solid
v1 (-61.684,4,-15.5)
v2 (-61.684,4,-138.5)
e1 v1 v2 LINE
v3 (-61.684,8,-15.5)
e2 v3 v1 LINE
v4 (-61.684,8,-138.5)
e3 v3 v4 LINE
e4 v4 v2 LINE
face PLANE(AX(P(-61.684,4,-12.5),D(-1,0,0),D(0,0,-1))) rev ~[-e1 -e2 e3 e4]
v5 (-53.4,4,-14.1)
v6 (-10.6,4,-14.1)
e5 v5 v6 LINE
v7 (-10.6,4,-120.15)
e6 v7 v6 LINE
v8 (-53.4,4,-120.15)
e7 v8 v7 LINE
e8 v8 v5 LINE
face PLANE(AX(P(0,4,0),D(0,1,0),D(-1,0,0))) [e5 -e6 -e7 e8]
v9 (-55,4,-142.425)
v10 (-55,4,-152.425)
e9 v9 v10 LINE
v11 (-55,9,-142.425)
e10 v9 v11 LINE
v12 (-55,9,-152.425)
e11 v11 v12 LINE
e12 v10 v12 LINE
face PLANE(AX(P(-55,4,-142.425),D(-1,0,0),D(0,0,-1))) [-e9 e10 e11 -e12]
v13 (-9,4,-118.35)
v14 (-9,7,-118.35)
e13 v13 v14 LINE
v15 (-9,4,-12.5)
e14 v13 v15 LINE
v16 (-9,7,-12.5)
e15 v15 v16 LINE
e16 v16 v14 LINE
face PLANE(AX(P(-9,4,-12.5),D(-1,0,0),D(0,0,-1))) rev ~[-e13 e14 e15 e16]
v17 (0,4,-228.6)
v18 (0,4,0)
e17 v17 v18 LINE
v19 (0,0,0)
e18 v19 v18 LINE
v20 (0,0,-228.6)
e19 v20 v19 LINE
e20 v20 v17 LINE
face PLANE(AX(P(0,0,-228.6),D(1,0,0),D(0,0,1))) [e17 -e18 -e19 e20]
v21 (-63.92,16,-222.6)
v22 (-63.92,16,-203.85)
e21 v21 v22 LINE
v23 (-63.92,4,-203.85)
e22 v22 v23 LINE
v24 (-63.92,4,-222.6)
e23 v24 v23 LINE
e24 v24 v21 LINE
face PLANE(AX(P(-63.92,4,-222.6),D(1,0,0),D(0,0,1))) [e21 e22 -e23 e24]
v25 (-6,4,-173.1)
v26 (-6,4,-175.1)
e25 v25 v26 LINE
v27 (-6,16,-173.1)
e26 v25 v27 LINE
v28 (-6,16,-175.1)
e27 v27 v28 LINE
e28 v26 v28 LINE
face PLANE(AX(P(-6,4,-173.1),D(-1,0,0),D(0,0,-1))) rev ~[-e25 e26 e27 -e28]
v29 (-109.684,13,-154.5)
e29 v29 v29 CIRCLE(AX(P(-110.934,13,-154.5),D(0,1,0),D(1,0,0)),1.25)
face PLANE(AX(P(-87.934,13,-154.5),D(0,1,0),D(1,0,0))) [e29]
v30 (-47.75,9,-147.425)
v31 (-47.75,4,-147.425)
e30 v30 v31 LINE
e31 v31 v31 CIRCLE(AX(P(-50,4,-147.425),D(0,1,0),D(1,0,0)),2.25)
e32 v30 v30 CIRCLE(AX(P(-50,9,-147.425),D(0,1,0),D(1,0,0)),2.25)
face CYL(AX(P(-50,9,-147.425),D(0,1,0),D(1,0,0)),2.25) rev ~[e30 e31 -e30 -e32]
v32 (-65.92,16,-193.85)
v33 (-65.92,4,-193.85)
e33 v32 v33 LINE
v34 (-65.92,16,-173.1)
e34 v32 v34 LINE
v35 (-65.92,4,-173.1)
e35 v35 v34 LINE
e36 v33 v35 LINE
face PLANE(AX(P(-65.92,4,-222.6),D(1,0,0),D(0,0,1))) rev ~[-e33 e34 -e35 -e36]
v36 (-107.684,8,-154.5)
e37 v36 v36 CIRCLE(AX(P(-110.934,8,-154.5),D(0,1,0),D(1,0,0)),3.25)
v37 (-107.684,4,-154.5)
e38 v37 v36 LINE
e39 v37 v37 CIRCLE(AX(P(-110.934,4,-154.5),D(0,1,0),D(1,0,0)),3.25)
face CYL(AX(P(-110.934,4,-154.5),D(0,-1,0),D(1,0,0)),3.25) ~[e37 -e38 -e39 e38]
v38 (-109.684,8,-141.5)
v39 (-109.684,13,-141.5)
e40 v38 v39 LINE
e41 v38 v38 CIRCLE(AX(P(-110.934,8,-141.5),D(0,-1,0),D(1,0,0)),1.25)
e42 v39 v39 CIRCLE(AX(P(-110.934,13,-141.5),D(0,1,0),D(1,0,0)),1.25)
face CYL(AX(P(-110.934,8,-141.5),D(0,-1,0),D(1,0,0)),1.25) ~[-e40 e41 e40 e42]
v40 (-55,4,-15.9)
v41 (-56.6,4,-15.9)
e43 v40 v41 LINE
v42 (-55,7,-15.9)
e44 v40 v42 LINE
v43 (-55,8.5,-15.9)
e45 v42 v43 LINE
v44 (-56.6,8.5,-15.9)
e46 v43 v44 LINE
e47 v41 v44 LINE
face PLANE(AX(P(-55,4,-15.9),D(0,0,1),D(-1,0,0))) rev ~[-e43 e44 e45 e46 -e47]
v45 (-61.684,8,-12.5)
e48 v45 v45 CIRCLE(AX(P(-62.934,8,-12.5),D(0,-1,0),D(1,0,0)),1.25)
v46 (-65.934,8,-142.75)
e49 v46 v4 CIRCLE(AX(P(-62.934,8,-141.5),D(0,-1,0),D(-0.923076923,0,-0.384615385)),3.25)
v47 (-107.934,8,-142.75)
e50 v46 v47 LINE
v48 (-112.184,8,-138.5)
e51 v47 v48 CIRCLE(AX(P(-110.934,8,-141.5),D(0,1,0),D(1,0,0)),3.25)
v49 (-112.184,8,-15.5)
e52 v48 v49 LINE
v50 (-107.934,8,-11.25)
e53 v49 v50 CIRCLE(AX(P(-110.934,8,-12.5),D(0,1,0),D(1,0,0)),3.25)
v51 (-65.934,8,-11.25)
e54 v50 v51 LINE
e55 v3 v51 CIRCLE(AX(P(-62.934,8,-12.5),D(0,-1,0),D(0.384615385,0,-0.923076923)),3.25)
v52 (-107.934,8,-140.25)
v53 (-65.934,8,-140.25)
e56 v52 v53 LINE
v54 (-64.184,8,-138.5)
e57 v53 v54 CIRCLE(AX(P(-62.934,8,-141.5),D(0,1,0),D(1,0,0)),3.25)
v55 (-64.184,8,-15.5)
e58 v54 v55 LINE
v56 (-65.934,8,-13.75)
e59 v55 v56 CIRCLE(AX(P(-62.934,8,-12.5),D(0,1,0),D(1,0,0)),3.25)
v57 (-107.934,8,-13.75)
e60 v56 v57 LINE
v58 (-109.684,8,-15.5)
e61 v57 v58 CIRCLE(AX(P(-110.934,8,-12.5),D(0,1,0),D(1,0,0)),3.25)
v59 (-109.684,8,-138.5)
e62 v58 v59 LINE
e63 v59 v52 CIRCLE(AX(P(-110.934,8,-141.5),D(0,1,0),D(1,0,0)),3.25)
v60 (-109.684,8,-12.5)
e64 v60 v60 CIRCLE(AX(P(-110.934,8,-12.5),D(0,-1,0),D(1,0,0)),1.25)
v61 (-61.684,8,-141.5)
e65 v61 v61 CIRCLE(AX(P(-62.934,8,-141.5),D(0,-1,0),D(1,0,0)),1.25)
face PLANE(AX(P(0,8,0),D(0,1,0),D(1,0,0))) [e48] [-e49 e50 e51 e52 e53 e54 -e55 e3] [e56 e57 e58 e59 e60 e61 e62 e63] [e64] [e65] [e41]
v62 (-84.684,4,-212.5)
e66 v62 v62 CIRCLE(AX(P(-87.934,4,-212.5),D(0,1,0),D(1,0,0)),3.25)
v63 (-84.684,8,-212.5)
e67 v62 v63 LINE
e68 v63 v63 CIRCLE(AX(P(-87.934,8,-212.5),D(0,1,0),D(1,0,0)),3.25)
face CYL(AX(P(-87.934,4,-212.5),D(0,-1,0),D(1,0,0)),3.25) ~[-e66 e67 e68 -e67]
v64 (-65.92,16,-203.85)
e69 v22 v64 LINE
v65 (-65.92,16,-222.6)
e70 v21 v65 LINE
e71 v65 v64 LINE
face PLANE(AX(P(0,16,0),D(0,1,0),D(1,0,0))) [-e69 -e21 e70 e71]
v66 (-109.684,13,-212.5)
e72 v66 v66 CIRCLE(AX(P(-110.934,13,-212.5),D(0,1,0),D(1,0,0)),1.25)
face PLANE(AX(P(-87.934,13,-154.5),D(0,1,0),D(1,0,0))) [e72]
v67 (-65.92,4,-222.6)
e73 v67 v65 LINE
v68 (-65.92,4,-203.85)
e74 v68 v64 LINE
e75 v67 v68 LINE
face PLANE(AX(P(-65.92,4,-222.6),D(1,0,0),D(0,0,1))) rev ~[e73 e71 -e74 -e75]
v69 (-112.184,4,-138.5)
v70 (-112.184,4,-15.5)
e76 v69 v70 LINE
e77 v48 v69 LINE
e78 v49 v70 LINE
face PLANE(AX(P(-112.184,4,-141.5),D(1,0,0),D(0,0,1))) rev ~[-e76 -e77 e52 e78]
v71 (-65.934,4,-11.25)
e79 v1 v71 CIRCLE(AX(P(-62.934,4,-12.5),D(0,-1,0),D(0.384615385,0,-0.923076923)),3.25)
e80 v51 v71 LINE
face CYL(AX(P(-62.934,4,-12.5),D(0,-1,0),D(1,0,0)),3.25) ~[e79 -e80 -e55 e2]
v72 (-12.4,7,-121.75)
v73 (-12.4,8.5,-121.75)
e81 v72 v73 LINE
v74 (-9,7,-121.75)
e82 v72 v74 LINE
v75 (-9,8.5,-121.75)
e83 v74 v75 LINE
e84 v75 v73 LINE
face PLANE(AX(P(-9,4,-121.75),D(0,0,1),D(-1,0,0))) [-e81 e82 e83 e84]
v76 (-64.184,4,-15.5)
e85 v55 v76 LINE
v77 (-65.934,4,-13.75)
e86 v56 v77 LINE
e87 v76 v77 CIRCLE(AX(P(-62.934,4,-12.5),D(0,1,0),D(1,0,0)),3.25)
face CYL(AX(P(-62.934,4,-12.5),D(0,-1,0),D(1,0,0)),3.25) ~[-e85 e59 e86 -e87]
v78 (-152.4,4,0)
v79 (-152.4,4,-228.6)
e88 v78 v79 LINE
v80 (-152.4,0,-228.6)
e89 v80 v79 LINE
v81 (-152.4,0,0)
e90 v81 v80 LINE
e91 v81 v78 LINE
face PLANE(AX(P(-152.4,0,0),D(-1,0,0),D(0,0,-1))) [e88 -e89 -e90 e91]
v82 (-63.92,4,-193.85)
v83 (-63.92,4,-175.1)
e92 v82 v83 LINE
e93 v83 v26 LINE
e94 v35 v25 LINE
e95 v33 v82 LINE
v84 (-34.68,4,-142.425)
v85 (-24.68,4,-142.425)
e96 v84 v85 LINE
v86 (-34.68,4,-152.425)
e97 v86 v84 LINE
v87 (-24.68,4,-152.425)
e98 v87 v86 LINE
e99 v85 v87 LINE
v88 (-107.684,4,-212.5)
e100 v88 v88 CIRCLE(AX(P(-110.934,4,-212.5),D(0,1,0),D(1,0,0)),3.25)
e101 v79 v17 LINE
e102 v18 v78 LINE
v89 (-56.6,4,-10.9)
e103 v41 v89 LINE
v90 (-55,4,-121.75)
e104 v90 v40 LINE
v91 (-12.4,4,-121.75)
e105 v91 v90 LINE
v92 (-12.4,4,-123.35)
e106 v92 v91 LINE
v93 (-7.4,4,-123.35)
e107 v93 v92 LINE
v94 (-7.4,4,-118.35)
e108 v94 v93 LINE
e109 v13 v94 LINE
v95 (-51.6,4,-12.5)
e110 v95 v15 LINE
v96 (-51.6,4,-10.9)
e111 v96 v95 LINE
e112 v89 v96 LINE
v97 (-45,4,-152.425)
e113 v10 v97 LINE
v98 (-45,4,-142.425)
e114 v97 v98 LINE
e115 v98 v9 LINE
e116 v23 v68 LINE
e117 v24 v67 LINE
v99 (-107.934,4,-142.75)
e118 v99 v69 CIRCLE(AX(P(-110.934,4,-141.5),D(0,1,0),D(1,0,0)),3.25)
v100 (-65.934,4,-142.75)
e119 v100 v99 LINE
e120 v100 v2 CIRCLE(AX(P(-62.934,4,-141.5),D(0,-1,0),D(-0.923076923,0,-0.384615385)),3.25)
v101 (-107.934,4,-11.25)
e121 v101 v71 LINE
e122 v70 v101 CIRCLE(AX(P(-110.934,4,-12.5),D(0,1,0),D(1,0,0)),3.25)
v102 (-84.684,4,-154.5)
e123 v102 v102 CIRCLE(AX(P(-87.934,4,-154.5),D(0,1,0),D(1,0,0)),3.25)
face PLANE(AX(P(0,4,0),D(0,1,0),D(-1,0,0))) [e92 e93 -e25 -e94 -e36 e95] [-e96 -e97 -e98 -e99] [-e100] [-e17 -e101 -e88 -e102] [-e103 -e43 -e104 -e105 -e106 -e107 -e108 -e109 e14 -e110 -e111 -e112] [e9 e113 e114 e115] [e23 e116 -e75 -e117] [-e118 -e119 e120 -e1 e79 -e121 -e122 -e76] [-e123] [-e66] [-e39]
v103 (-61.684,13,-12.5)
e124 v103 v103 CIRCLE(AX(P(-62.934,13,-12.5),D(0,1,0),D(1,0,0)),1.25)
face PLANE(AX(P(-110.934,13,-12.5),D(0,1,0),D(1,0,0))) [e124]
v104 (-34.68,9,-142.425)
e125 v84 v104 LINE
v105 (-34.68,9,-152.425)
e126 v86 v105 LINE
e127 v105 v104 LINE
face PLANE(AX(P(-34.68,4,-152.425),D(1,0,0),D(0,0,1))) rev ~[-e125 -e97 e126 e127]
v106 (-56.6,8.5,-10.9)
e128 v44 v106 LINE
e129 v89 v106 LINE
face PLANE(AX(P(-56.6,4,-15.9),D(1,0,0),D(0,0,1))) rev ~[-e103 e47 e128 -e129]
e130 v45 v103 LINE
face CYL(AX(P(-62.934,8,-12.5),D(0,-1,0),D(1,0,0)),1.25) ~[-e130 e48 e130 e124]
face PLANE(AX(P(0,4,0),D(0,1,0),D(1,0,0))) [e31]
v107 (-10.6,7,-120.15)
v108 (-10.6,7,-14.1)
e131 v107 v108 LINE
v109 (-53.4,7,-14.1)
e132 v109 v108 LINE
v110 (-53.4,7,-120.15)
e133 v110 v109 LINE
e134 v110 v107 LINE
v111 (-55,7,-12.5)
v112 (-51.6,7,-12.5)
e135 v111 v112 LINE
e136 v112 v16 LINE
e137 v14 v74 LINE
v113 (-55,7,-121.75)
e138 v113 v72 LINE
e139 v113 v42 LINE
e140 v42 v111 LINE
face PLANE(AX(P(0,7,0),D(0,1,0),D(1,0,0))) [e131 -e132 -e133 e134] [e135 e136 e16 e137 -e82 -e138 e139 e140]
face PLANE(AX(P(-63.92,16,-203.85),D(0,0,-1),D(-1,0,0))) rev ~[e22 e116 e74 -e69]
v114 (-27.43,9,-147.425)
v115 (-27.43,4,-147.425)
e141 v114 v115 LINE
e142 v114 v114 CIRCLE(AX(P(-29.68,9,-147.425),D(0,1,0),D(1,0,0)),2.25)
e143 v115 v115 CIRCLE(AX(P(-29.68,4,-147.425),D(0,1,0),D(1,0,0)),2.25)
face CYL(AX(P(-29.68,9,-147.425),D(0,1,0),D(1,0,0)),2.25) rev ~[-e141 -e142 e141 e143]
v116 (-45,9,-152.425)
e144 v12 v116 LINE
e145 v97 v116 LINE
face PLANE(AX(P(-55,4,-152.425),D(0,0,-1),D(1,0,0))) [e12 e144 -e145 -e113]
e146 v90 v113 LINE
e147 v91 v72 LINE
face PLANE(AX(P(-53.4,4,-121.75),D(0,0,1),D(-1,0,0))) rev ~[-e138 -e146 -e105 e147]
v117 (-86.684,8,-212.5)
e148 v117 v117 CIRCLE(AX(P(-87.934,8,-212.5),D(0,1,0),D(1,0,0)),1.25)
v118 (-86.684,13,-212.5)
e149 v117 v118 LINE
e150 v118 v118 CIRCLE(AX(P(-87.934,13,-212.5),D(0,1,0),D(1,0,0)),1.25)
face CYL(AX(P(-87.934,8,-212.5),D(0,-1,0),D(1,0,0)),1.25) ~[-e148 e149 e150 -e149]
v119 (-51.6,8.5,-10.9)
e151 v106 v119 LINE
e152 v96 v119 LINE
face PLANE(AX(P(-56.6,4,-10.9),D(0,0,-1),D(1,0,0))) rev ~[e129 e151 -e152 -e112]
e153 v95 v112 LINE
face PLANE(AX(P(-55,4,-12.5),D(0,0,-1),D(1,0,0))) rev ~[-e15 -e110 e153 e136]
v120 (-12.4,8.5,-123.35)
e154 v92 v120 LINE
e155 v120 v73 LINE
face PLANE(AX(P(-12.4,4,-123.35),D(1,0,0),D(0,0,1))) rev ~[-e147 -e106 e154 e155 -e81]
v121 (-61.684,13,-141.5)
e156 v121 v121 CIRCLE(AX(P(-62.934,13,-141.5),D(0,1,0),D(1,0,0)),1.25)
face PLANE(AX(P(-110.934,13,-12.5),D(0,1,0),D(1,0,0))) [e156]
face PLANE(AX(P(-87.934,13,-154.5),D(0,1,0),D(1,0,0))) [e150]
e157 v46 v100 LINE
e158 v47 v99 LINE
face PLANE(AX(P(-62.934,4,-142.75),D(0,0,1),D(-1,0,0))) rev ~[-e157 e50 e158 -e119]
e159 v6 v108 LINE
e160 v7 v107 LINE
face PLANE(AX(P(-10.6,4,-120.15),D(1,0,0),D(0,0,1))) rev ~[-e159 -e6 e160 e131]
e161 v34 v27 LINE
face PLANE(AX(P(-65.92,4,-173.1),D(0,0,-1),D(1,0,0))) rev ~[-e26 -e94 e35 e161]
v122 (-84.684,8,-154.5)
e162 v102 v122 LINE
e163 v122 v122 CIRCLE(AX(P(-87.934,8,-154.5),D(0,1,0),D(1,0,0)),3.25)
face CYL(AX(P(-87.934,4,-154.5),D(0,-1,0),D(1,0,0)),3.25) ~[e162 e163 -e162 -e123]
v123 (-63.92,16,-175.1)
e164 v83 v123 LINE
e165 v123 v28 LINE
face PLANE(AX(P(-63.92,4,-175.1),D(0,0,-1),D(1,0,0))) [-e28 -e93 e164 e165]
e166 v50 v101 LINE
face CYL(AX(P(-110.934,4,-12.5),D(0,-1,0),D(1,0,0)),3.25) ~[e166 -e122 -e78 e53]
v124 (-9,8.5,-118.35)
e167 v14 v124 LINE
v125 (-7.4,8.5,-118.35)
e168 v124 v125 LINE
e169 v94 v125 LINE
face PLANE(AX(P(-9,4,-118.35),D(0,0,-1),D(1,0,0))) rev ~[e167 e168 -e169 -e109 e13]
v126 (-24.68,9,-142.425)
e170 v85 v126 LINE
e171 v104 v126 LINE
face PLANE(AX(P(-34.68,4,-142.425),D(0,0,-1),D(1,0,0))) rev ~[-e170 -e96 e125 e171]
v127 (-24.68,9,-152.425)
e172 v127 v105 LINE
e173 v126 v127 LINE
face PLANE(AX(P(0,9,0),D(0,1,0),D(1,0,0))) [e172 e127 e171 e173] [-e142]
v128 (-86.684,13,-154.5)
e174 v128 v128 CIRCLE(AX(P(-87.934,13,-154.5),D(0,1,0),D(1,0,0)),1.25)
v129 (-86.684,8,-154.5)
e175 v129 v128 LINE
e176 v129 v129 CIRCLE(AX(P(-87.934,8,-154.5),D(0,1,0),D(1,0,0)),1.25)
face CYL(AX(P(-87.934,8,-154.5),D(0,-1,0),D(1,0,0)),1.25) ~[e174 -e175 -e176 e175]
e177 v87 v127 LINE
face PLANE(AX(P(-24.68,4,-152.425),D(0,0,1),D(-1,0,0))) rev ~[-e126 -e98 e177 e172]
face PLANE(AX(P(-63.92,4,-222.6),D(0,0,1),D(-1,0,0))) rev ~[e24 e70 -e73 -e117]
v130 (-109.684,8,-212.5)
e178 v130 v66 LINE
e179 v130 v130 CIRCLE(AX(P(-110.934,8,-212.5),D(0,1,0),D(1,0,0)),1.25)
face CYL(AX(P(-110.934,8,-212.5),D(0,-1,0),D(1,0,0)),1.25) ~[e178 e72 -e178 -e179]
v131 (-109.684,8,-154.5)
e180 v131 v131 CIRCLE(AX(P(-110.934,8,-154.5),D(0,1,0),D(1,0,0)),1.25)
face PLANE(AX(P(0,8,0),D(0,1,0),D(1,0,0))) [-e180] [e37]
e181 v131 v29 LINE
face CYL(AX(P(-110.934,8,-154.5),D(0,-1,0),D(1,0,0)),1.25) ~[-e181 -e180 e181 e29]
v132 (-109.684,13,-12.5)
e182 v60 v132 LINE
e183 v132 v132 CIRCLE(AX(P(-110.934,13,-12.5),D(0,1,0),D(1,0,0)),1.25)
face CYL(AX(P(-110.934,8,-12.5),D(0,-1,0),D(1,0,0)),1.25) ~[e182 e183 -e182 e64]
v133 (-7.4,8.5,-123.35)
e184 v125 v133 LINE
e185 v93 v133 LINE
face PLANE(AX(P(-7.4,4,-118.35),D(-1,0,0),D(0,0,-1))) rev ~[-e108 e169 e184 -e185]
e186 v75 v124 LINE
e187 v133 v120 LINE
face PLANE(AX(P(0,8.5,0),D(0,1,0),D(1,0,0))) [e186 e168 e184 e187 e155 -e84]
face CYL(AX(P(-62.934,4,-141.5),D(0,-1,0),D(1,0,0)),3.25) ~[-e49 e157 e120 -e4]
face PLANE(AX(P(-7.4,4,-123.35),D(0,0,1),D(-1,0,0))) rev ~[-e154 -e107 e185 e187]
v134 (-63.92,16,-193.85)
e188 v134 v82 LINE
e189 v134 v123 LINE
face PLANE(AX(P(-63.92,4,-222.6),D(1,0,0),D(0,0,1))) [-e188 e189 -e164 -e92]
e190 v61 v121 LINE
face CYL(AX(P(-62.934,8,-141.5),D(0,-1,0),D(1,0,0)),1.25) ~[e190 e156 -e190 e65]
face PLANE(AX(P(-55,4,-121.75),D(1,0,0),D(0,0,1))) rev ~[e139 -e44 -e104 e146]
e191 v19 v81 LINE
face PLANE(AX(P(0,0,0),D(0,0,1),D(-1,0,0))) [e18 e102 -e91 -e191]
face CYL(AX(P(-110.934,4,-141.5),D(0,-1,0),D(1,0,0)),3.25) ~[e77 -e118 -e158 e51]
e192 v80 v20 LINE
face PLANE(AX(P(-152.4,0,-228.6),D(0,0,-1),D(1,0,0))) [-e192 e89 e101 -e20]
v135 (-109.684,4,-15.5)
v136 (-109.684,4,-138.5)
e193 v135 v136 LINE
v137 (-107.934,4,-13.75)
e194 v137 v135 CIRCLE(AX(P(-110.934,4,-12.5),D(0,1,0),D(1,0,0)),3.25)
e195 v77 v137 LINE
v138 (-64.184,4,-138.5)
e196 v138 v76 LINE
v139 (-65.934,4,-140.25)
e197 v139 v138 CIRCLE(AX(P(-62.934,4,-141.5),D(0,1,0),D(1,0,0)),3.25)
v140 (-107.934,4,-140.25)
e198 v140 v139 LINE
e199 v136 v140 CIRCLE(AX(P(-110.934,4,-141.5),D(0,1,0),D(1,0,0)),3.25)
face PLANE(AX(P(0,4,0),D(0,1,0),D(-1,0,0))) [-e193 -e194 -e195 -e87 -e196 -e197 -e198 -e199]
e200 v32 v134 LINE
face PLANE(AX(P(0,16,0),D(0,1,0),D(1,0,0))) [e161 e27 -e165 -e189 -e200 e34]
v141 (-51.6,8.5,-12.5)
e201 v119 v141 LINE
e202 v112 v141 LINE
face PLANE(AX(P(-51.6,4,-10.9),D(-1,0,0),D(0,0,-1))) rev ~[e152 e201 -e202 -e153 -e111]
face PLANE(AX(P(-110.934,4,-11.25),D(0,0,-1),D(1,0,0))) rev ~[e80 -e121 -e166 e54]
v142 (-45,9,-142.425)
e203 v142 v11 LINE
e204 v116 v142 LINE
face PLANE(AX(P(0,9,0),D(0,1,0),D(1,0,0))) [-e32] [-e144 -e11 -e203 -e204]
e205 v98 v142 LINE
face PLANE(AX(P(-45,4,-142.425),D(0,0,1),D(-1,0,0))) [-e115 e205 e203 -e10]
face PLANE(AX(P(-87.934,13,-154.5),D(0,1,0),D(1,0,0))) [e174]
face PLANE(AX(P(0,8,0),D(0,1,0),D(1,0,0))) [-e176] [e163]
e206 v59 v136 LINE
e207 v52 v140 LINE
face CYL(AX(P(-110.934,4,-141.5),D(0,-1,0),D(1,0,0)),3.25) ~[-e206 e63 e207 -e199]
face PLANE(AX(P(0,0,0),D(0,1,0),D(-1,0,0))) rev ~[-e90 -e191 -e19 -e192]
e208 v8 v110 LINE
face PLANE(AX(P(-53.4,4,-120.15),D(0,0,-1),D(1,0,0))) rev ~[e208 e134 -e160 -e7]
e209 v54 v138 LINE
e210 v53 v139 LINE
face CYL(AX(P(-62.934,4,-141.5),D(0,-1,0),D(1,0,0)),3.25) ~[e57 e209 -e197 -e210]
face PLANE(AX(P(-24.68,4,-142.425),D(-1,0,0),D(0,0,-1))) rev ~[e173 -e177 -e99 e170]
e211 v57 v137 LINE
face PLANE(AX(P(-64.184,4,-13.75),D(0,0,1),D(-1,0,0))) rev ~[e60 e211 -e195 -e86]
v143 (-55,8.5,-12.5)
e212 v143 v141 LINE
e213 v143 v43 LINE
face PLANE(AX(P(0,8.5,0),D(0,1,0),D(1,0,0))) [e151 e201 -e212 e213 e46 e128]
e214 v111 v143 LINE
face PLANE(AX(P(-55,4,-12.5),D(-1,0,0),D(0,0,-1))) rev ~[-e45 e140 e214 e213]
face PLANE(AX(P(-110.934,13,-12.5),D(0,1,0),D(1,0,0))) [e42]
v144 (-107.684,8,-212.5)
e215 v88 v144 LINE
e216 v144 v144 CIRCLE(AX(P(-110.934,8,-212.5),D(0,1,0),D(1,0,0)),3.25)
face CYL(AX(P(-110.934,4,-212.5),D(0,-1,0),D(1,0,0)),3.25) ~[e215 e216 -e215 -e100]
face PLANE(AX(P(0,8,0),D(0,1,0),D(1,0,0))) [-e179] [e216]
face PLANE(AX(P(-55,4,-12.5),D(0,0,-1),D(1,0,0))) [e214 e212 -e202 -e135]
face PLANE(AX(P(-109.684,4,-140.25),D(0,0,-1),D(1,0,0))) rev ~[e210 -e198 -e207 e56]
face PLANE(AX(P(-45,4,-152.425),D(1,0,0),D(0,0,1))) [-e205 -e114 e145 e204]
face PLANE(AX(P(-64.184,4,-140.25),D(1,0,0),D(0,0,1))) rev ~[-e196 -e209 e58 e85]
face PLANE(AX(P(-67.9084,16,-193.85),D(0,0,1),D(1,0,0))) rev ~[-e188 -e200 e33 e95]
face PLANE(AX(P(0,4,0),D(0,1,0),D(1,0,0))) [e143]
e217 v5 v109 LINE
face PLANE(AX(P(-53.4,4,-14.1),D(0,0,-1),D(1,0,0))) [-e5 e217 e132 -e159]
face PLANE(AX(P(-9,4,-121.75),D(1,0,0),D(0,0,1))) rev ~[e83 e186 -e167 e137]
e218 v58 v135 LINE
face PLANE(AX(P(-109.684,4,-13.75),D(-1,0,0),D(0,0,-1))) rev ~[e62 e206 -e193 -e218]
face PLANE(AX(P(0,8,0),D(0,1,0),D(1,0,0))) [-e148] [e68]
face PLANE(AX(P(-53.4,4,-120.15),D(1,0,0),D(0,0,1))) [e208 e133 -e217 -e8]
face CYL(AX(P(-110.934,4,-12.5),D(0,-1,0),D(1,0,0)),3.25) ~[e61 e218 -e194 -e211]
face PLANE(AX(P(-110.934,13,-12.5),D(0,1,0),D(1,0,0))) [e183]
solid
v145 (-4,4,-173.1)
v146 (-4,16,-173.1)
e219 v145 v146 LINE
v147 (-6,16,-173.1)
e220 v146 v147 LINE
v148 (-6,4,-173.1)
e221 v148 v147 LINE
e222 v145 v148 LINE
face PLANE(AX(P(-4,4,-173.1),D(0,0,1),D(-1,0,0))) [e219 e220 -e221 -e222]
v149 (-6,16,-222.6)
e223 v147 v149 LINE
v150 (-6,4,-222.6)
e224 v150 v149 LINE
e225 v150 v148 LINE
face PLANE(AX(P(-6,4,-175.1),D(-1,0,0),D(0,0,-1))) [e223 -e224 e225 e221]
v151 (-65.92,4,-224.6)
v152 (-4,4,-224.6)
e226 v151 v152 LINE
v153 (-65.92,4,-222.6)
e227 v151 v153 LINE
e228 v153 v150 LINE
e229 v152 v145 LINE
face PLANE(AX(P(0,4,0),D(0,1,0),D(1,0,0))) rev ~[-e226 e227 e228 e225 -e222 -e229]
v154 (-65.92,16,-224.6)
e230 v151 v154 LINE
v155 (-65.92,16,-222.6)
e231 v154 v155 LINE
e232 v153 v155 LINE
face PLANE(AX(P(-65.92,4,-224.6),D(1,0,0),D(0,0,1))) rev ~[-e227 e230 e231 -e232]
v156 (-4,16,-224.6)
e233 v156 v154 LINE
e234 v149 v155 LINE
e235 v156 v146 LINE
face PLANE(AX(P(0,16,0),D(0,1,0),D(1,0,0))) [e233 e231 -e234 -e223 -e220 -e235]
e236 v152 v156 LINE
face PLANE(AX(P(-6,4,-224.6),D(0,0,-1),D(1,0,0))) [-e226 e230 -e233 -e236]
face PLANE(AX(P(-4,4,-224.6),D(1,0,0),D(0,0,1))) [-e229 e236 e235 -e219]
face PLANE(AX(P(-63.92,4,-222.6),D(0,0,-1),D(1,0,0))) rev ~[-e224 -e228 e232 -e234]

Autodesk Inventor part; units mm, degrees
ref_plane "YZ Plane" through (0, 0, 0) normal (1, 0, 0) x (0, 1, 0)
ref_plane "XZ Plane" through (0, 0, 0) normal (0, 1, 0) x (-1, 0, 0)
ref_plane "XY Plane" through (0, 0, 0) normal (0, 0, 1) x (1, 0, 0)
sketch "Sketch1" plane through (0, 0, 0) normal (0, 1, 0) x (-1, 0, 0)
  line L0 (0, 0) -> (152.4, 0)
  line L1 (152.4, 0) -> (152.4, -228.6)
  line L2 (152.4, -228.6) -> (0, -228.6)
  line L3 (0, -228.6) -> (0, 0)
  dimension "d0" = 152.4
  dimension "d1" = 228.6
extrude "Extrusion1" add sketch "Sketch1" along normal blind 4
sketch "Sketch2" plane through (0, 4, 0) normal (0, 1, 0) x (1, 0, 0)
  line L0 (0, 228.6) -> (-152.4, 228.6) construction
  line L1 (-152.4, 228.6) -> (-152.4, 0) construction
  line L2 (-152.4, 0) -> (0, 0) construction
  line L3 (0, 0) -> (0, 228.6) construction
  line L4 (-146.4, 6) -> (-146.4, 222.6) construction
  line L5 (-146.4, 222.6) -> (-6, 222.6) construction
  line L6 (-6, 222.6) -> (-6, 6) construction
  line L7 (-6, 6) -> (-146.4, 6) construction
  line L8 (-110.934, 6) -> (-110.934, 12.5) construction
  circle A0 centre (-110.934, 12.5) radius 1.25 construction
  line L9 (-110.934, 12.5) -> (-62.934, 12.5) construction
  line L10 (-62.934, 12.5) -> (-62.934, 141.5) construction
  line L11 (-62.934, 141.5) -> (-110.934, 141.5) construction
  line L12 (-110.934, 141.5) -> (-110.934, 12.5) construction
  circle A1 centre (-62.934, 12.5) radius 1.25 construction
  circle A2 centre (-110.934, 141.5) radius 1.25 construction
  circle A3 centre (-62.934, 141.5) radius 1.25 construction
  line L13 (-62.934, 12.5) -> (-6, 12.5) construction
  line L14 (-6, 12.5) -> (-9, 12.5) construction
  line L15 (-9, 12.5) -> (-55, 12.5) construction
  line L16 (-55, 12.5) -> (-55, 121.75) construction
  line L17 (-55, 121.75) -> (-9, 121.75) construction
  line L18 (-9, 121.75) -> (-9, 12.5) construction
  line L19 (-6, 222.6) -> (-63.92, 222.6) construction
  line L20 (-63.92, 222.6) -> (-63.92, 175.1) construction
  line L21 (-63.92, 175.1) -> (-6, 175.1) construction
  line L22 (-6, 175.1) -> (-6, 222.6) construction
  line L23 (-63.92, 222.6) -> (-65.92, 222.6) construction
  line L24 (-65.92, 222.6) -> (-65.92, 175.1) construction
  line L25 (-65.92, 175.1) -> (-63.92, 175.1) construction
  line L26 (-63.92, 175.1) -> (-63.92, 222.6) construction
  line L27 (-63.92, 175.1) -> (-6, 175.1) construction
  line L28 (-6, 175.1) -> (-6, 173.1) construction
  line L29 (-6, 173.1) -> (-63.92, 173.1) construction
  line L30 (-63.92, 173.1) -> (-63.92, 175.1) construction
  line L31 (-63.92, 175.1) -> (-65.92, 175.1) construction
  line L32 (-65.92, 175.1) -> (-65.92, 173.1) construction
  line L33 (-65.92, 173.1) -> (-63.92, 173.1) construction
  line L34 (-63.92, 173.1) -> (-63.92, 175.1) construction
  line L35 (-55, 121.75) -> (-55, 173.1) construction
  line L36 (-110.934, 141.5) -> (-110.934, 154.5) construction
  circle A4 centre (-110.934, 154.5) radius 1.25 construction
  line L37 (-110.934, 154.5) -> (-87.934, 154.5) construction
  line L38 (-87.934, 154.5) -> (-87.934, 212.5) construction
  line L39 (-87.934, 212.5) -> (-110.934, 212.5) construction
  line L40 (-110.934, 212.5) -> (-110.934, 154.5) construction
  circle A5 centre (-87.934, 154.5) radius 1.25 construction
  circle A6 centre (-87.934, 212.5) radius 1.25 construction
  circle A7 centre (-110.934, 212.5) radius 1.25 construction
  line L41 (-45, 142.425) -> (-55, 142.425) construction
  line L42 (-55, 142.425) -> (-55, 152.425) construction
  line L43 (-55, 152.425) -> (-45, 152.425) construction
  line L44 (-45, 152.425) -> (-45, 142.425) construction
  line L45 (-45, 142.425) -> (-55, 152.425) construction
  line L46 (-55, 142.425) -> (-45, 152.425) construction
  circle A8 centre (-50, 147.425) radius 2.25 construction
  line L47 (-50, 147.425) -> (-29.68, 147.425) construction
  line L48 (-24.68, 152.425) -> (-34.68, 152.425) construction
  line L49 (-34.68, 152.425) -> (-34.68, 142.425) construction
  line L50 (-34.68, 142.425) -> (-24.68, 142.425) construction
  line L51 (-24.68, 142.425) -> (-24.68, 152.425) construction
  line L52 (-24.68, 152.425) -> (-34.68, 142.425) construction
  line L53 (-34.68, 152.425) -> (-24.68, 142.425) construction
  dimension "d4" = 6
  dimension "d6" = 6.5
  dimension "d7" = 2.5
  dimension "d8" = 48
  dimension "d9" = 129
  dimension "d14" = 3
  dimension "d15" = 46
  dimension "d16" = 109.25
  dimension "d17" = 41.466
  dimension "d18" = 57.92
  dimension "d19" = 47.5
  dimension "d29" = 13
  dimension "d30" = 2.5
  dimension "d31" = 23
  dimension "d32" = 58
  dimension "d33" = 2
  dimension "d64" = 10
  dimension "d65" = 10
  dimension "d66" = 4.5
  dimension "d67" = 20.32
  dimension "d68" = 10
  dimension "d69" = 10
sketch "Sketch3" plane through (0, 4, 0) normal (0, 1, 0) x (1, 0, 0)
  circle A0 centre (-110.934, 12.5) radius 1.25 construction
  circle A1 centre (-110.934, 141.5) radius 1.25 construction
  circle A2 centre (-62.934, 141.5) radius 1.25 construction
  circle A3 centre (-62.934, 12.5) radius 1.25 construction
  circle A4 centre (-110.934, 12.5) radius 3.25
  circle A5 centre (-110.934, 141.5) radius 3.25
  circle A6 centre (-62.934, 141.5) radius 3.25
  circle A7 centre (-62.934, 12.5) radius 3.25
  point P0 (0, 0)
  dimension "d37" = 2
  dimension "d38" = 2
  dimension "d39" = 2
  dimension "d40" = 2
extrude "Extrusion2" add sketch "Sketch3" along normal blind 4
sketch "Sketch4" plane through (-110.934, 8, -12.5) normal (0, 1, 0) x (1, 0, 0)
  circle A0 centre (0, 0) radius 3.25 projected
  circle A1 centre (0, 129) radius 3.25 projected
  circle A2 centre (48, 129) radius 3.25 projected
  circle A3 centre (48, 0) radius 3.25 projected
  circle A4 centre (48, 0) radius 1.25
  circle A5 centre (0, 0) radius 1.25
  circle A6 centre (0, 129) radius 1.25
  circle A7 centre (48, 129) radius 1.25
  point P0 (110.934, -12.5)
  dimension "d43" = 2.5
  dimension "d44" = 2.5
  dimension "d45" = 2.5
  dimension "d46" = 2.5
extrude "Extrusion3" add sketch "Sketch4" along normal blind 5 contours A4 | A5 | A6 | A7
sketch "Sketch5" plane through (0, 4, 0) normal (0, 1, 0) x (1, 0, 0)
  circle A0 centre (-110.934, 154.5) radius 1.25 construction
  circle A1 centre (-110.934, 212.5) radius 1.25 construction
  circle A2 centre (-87.934, 212.5) radius 1.25 construction
  line L0 (-87.934, 154.5) -> (-87.934, 212.5) construction
  circle A3 centre (-87.934, 154.5) radius 1.25 construction
  circle A4 centre (-87.934, 154.5) radius 3.25
  circle A5 centre (-110.934, 154.5) radius 3.25
  circle A6 centre (-110.934, 212.5) radius 3.25
  circle A7 centre (-87.934, 212.5) radius 3.25
  point P0 (0, 0)
  dimension "d49" = 2
  dimension "d50" = 2
  dimension "d51" = 2
  dimension "d52" = 2
extrude "Extrusion4" add sketch "Sketch5" along normal blind 4
sketch "Sketch6" plane through (-87.934, 8, -154.5) normal (0, 1, 0) x (1, 0, 0)
  circle A0 centre (-23, 0) radius 3.25 construction
  circle A1 centre (-23, 58) radius 3.25 construction
  circle A2 centre (0, 58) radius 3.25 construction
  circle A3 centre (0, 0) radius 3.25 construction
  circle A4 centre (-23, 0) radius 1.25
  circle A5 centre (-23, 58) radius 1.25
  circle A6 centre (0, 58) radius 1.25
  circle A7 centre (0, 0) radius 1.25
  point P0 (87.934, -154.5)
  dimension "d55" = 2.5
  dimension "d56" = 2.5
  dimension "d57" = 2.5
  dimension "d58" = 2.5
extrude "Extrusion5" add sketch "Sketch6" along normal blind 5
sketch "Sketch7" plane through (0, 4, 0) normal (0, 1, 0) x (1, 0, 0)
  line L0 (-45, 142.425) -> (-55, 142.425) construction
  line L1 (-45, 152.425) -> (-45, 142.425) construction
  line L2 (-34.68, 152.425) -> (-34.68, 142.425) construction
  line L3 (-34.68, 142.425) -> (-24.68, 142.425) construction
  line L4 (-45, 142.425) -> (-55, 142.425)
  line L5 (-55, 142.425) -> (-55, 152.425)
  line L6 (-55, 152.425) -> (-45, 152.425)
  line L7 (-45, 152.425) -> (-45, 142.425)
  line L8 (-34.68, 142.425) -> (-24.68, 142.425)
  line L9 (-24.68, 142.425) -> (-24.68, 152.425)
  line L10 (-24.68, 152.425) -> (-34.68, 152.425)
  line L11 (-34.68, 152.425) -> (-34.68, 142.425)
  point P0 (0, 0)
extrude "Extrusion6" add sketch "Sketch7" along normal blind 5
sketch "Sketch8" plane through (0, 9, 0) normal (0, 1, 0) x (1, 0, 0)
  line L0 (-45, 152.425) -> (-55, 152.425) projected
  line L1 (-55, 152.425) -> (-55, 142.425) projected
  line L2 (-55, 142.425) -> (-45, 142.425) projected
  line L3 (-45, 142.425) -> (-45, 152.425) projected
  line L4 (-24.68, 142.425) -> (-24.68, 152.425) projected
  line L5 (-24.68, 152.425) -> (-34.68, 152.425) projected
  line L6 (-34.68, 152.425) -> (-34.68, 142.425) projected
  line L7 (-34.68, 142.425) -> (-24.68, 142.425) projected
  circle A0 centre (-50, 147.425) radius 2.25
  circle A1 centre (-29.68, 147.425) radius 2.25
  point P0 (0, 0)
  dimension "d72" = 4.5
  dimension "d73" = 4.5
extrude "Extrusion7" cut sketch "Sketch8" against normal blind 5 contours A0 | A1
sketch "Sketch9" plane through (0, 4, 0) normal (0, 1, 0) x (1, 0, 0)
  line L0 (-55, 12.5) -> (-55, 121.75) construction
  line L1 (-9, 12.5) -> (-55, 12.5) construction
  line L2 (-55, 12.5) -> (-9, 12.5)
  line L3 (-9, 12.5) -> (-9, 121.75)
  line L4 (-9, 121.75) -> (-55, 121.75)
  line L5 (-55, 121.75) -> (-55, 12.5)
  line L6 (-53.4, 121.75) -> (-53.4, 14.1)
  line L7 (-53.4, 14.1) -> (-9, 14.1)
  line L8 (-53.4, 120.15) -> (-10.6, 120.15)
  line L9 (-10.6, 120.15) -> (-10.6, 14.1)
  line L10 (-10.6, 14.1) -> (-53.4, 14.1)
  line L11 (-53.4, 14.1) -> (-53.4, 120.15)
  point P0 (0, 0)
  dimension "d76" = 1.6
  dimension "d77" = 1.6
extrude "Extrusion8" add sketch "Sketch9" along normal blind 3 contours L5 L4 L6 L7 L3 L2 | L7 L9 L8 L6 L4 L3
sketch "Sketch10" plane through (0, 4, 0) normal (0, 1, 0) x (1, 0, 0)
  line L0 (-55, 121.75) -> (-55, 12.5) construction
  line L1 (-55, 12.5) -> (-9, 12.5) construction
  line L2 (-9, 12.5) -> (-9, 121.75) construction
  line L3 (-9, 121.75) -> (-55, 121.75) construction
  line L4 (-53.4, 120.15) -> (-10.6, 120.15) construction
  line L5 (-10.6, 120.15) -> (-10.6, 14.1) construction
  line L6 (-10.6, 14.1) -> (-53.4, 14.1) construction
  line L7 (-53.4, 14.1) -> (-53.4, 120.15) construction
  line L8 (-56.6, 10.9) -> (-56.6, 123.35) construction
  line L9 (-56.6, 123.35) -> (-7.4, 123.35) construction
  line L10 (-7.4, 123.35) -> (-7.4, 10.9) construction
  line L11 (-7.4, 10.9) -> (-56.6, 10.9) construction
  line L12 (-56.6, 10.9) -> (-51.6, 10.9) construction
  line L13 (-51.6, 10.9) -> (-51.6, 15.9) construction
  line L14 (-51.6, 15.9) -> (-56.6, 15.9) construction
  line L15 (-56.6, 15.9) -> (-56.6, 10.9) construction
  line L16 (-51.6, 10.9) -> (-51.6, 12.5)
  line L17 (-55, 12.5) -> (-51.6, 12.5)
  line L18 (-55, 12.5) -> (-55, 15.9)
  line L19 (-55, 15.9) -> (-56.6, 15.9)
  line L20 (-56.6, 15.9) -> (-56.6, 10.9)
  line L21 (-56.6, 10.9) -> (-51.6, 10.9)
  line L22 (-7.4, 123.35) -> (-12.4, 123.35)
  line L23 (-12.4, 123.35) -> (-12.4, 118.35)
  line L24 (-12.4, 118.35) -> (-7.4, 118.35)
  line L25 (-7.4, 118.35) -> (-7.4, 123.35)
  line L26 (-9, 121.75) -> (-55, 121.75) projected
  line L27 (-12.4, 121.75) -> (-9, 121.75)
  line L28 (-9, 121.75) -> (-9, 118.35)
  point P0 (0, 0)
  dimension "d80" = 1.6
  dimension "d81" = 5
  dimension "d82" = 5
  dimension "d83" = 5
  dimension "d84" = 5
extrude "Extrusion9" add sketch "Sketch10" along normal blind 4.5 contours L21 L20 L19 L18 L17 L16 | L25 L24 L28 L26 L23 L22
sketch "Sketch11" plane through (0, 4, 0) normal (0, 1, 0) x (1, 0, 0)
  line L0 (-65.92, 222.6) -> (-65.92, 175.1) construction
  line L1 (-63.92, 222.6) -> (-63.92, 175.1) construction
  line L2 (-63.92, 175.1) -> (-6, 175.1) construction
  line L3 (-6, 173.1) -> (-63.92, 173.1) construction
  line L4 (-65.92, 173.1) -> (-63.92, 173.1) construction
  line L5 (-65.92, 175.1) -> (-65.92, 173.1) construction
  line L6 (-65.92, 173.1) -> (-6, 173.1)
  line L7 (-6, 173.1) -> (-6, 222.6)
  line L8 (-6, 222.6) -> (-65.92, 222.6)
  line L9 (-65.92, 222.6) -> (-65.92, 173.1)
  line L10 (-63.92, 175.1) -> (-6, 175.1)
  line L11 (-6, 175.1) -> (-6, 222.6)
  line L12 (-6, 222.6) -> (-63.92, 222.6)
  line L13 (-63.92, 222.6) -> (-63.92, 175.1)
  point P0 (0, 0)
extrude "Extrusion10" add sketch "Sketch11" along normal blind 12 contours L9 L8 L13 L10 L7 L6
sketch "Sketch12" plane through (0, 16, 0) normal (0, 1, 0) x (1, 0, 0)
  line L0 (-63.92, 175.1) -> (-63.92, 222.6) projected
  line L1 (-59.9316, 193.85) -> (-59.9316, 203.85)
  line L2 (-59.9316, 203.85) -> (-67.9084, 203.85)
  line L3 (-67.9084, 203.85) -> (-67.9084, 193.85)
  line L4 (-67.9084, 193.85) -> (-59.9316, 193.85)
  line L5 (-59.9316, 193.85) -> (-67.9084, 203.85) construction
  line L6 (-59.9316, 203.85) -> (-67.9084, 193.85) construction
  point P0 (0, 0)
  point P1 (-63.92, 198.85)
  point P2 (-63.92, 193.85)
  point P3 (-63.92, 203.85)
  dimension "d89" = 10
extrude "Extrusion11" cut sketch "Sketch12" against normal blind 12 contours L4 L3 L2 L0
sketch "Sketch13" plane through (0, 4, 0) normal (0, 1, 0) x (1, 0, 0)
  line L0 (-63.92, 193.85) -> (-63.92, 175.1) projected
  line L1 (-63.92, 175.1) -> (-6, 175.1) projected
  line L2 (-6, 175.1) -> (-6, 173.1) projected
  line L3 (-6, 173.1) -> (-65.92, 173.1) projected
  line L4 (-65.92, 173.1) -> (-65.92, 193.85) projected
  line L5 (-63.92, 193.85) -> (-65.92, 193.85) projected
  line L6 (-65.92, 203.85) -> (-63.92, 203.85) projected
  line L7 (-65.92, 203.85) -> (-65.92, 222.6) projected
  line L8 (-65.92, 222.6) -> (-63.92, 222.6) projected
  line L9 (-63.92, 222.6) -> (-63.92, 203.85) projected
  line L10 (-51.6, 12.5) -> (-51.6, 10.9) projected
  line L11 (-51.6, 10.9) -> (-56.6, 10.9) projected
  line L12 (-56.6, 10.9) -> (-56.6, 15.9) projected
  line L13 (-56.6, 15.9) -> (-55, 15.9) projected
  line L14 (-55, 15.9) -> (-55, 121.75) projected
  line L15 (-55, 121.75) -> (-12.4, 121.75) projected
  line L16 (-12.4, 121.75) -> (-12.4, 123.35) projected
  line L17 (-12.4, 123.35) -> (-7.4, 123.35) projected
  line L18 (-7.4, 123.35) -> (-7.4, 118.35) projected
  line L19 (-7.4, 118.35) -> (-9, 118.35) projected
  line L20 (-9, 118.35) -> (-9, 12.5) projected
  line L21 (-9, 12.5) -> (-51.6, 12.5) projected
  line L22 (-24.68, 142.425) -> (-34.68, 142.425) projected
  line L23 (-34.68, 142.425) -> (-34.68, 152.425) projected
  line L24 (-34.68, 152.425) -> (-24.68, 152.425) projected
  line L25 (-24.68, 152.425) -> (-24.68, 142.425) projected
  line L26 (-45, 152.425) -> (-45, 142.425) projected
  line L27 (-45, 142.425) -> (-55, 142.425) projected
  line L28 (-55, 142.425) -> (-55, 152.425) projected
  line L29 (-55, 152.425) -> (-45, 152.425) projected
  circle A0 centre (-110.934, 212.5) radius 3.25 projected
  circle A1 centre (-110.934, 154.5) radius 3.25 projected
  circle A2 centre (-87.934, 154.5) radius 3.25 projected
  circle A3 centre (-87.934, 212.5) radius 3.25 projected
  circle A4 centre (-62.934, 141.5) radius 3.25 projected
  circle A5 centre (-110.934, 141.5) radius 3.25 projected
  circle A6 centre (-110.934, 12.5) radius 3.25 projected
  circle A7 centre (-62.934, 12.5) radius 3.25 projected
  line L30 (0, 228.6) -> (-152.4, 228.6) projected
  line L31 (-152.4, 228.6) -> (-152.4, 0) projected
  line L32 (-152.4, 0) -> (0, 0) projected
  line L33 (0, 0) -> (0, 228.6) projected
  line L34 (-65.92, 222.6) -> (-6, 222.6)
  line L35 (-6, 222.6) -> (-6, 224.6)
  line L36 (-6, 224.6) -> (-65.92, 224.6)
  line L37 (-65.92, 224.6) -> (-65.92, 222.6)
  line L38 (-6, 224.6) -> (-4, 224.6)
  line L39 (-4, 224.6) -> (-4, 173.1)
  line L40 (-4, 173.1) -> (-6, 173.1)
  line L41 (-6, 173.1) -> (-6, 224.6)
  dimension "d92" = 2
  dimension "d93" = 2
extrude "Extrusion12" add sketch "Sketch13" along normal blind 12 separate body contours L41 L35 L38 L39 L40 L2 | L34 L8 L37 L36 L35
sketch "Sketch14" plane through (0, 4, 0) normal (0, 1, 0) x (1, 0, 0)
  circle A0 centre (-62.934, 141.5) radius 1.25 projected
  circle A1 centre (-62.934, 12.5) radius 1.25 projected
  circle A2 centre (-110.934, 12.5) radius 1.25 projected
  circle A3 centre (-110.934, 141.5) radius 1.25 projected
  line L0 (-62.934, 142.75) -> (-110.934, 142.75)
  circle A4 centre (-62.934, 141.5) radius 1.25 projected
  line L1 (-112.184, 141.5) -> (-112.184, 12.5)
  line L2 (-110.934, 11.25) -> (-62.934, 11.25)
  line L3 (-61.684, 12.5) -> (-61.684, 141.5)
  line L4 (-61.684, 142.75) -> (-64.184, 142.75) construction
  line L5 (-64.184, 142.75) -> (-64.184, 140.25) construction
  line L6 (-64.184, 140.25) -> (-61.684, 140.25) construction
  line L7 (-61.684, 140.25) -> (-61.684, 142.75) construction
  line L8 (-64.184, 140.25) -> (-110.934, 140.25) construction
  line L9 (-64.184, 141.5) -> (-64.184, 12.5)
  line L10 (-62.934, 13.75) -> (-110.934, 13.75)
  line L11 (-109.684, 12.5) -> (-109.684, 141.5)
  line L12 (-110.934, 140.25) -> (-62.934, 140.25)
  point P0 (0, 0)
  point P1 (-64.184, 13.75)
  point P2 (-109.684, 140.25)
  point P3 (-109.684, 13.75)
extrude "Extrusion13" add sketch "Sketch14" along normal blind 4 contours L3 A1 L10 L9 L12 A0 | A0 L9 L12 L11 A3 L0 | L2 A2 L11 L10 L9 A1 | A3 L12 L11 L10 A2 L1 bodies 1
properties part number "baseplate"
